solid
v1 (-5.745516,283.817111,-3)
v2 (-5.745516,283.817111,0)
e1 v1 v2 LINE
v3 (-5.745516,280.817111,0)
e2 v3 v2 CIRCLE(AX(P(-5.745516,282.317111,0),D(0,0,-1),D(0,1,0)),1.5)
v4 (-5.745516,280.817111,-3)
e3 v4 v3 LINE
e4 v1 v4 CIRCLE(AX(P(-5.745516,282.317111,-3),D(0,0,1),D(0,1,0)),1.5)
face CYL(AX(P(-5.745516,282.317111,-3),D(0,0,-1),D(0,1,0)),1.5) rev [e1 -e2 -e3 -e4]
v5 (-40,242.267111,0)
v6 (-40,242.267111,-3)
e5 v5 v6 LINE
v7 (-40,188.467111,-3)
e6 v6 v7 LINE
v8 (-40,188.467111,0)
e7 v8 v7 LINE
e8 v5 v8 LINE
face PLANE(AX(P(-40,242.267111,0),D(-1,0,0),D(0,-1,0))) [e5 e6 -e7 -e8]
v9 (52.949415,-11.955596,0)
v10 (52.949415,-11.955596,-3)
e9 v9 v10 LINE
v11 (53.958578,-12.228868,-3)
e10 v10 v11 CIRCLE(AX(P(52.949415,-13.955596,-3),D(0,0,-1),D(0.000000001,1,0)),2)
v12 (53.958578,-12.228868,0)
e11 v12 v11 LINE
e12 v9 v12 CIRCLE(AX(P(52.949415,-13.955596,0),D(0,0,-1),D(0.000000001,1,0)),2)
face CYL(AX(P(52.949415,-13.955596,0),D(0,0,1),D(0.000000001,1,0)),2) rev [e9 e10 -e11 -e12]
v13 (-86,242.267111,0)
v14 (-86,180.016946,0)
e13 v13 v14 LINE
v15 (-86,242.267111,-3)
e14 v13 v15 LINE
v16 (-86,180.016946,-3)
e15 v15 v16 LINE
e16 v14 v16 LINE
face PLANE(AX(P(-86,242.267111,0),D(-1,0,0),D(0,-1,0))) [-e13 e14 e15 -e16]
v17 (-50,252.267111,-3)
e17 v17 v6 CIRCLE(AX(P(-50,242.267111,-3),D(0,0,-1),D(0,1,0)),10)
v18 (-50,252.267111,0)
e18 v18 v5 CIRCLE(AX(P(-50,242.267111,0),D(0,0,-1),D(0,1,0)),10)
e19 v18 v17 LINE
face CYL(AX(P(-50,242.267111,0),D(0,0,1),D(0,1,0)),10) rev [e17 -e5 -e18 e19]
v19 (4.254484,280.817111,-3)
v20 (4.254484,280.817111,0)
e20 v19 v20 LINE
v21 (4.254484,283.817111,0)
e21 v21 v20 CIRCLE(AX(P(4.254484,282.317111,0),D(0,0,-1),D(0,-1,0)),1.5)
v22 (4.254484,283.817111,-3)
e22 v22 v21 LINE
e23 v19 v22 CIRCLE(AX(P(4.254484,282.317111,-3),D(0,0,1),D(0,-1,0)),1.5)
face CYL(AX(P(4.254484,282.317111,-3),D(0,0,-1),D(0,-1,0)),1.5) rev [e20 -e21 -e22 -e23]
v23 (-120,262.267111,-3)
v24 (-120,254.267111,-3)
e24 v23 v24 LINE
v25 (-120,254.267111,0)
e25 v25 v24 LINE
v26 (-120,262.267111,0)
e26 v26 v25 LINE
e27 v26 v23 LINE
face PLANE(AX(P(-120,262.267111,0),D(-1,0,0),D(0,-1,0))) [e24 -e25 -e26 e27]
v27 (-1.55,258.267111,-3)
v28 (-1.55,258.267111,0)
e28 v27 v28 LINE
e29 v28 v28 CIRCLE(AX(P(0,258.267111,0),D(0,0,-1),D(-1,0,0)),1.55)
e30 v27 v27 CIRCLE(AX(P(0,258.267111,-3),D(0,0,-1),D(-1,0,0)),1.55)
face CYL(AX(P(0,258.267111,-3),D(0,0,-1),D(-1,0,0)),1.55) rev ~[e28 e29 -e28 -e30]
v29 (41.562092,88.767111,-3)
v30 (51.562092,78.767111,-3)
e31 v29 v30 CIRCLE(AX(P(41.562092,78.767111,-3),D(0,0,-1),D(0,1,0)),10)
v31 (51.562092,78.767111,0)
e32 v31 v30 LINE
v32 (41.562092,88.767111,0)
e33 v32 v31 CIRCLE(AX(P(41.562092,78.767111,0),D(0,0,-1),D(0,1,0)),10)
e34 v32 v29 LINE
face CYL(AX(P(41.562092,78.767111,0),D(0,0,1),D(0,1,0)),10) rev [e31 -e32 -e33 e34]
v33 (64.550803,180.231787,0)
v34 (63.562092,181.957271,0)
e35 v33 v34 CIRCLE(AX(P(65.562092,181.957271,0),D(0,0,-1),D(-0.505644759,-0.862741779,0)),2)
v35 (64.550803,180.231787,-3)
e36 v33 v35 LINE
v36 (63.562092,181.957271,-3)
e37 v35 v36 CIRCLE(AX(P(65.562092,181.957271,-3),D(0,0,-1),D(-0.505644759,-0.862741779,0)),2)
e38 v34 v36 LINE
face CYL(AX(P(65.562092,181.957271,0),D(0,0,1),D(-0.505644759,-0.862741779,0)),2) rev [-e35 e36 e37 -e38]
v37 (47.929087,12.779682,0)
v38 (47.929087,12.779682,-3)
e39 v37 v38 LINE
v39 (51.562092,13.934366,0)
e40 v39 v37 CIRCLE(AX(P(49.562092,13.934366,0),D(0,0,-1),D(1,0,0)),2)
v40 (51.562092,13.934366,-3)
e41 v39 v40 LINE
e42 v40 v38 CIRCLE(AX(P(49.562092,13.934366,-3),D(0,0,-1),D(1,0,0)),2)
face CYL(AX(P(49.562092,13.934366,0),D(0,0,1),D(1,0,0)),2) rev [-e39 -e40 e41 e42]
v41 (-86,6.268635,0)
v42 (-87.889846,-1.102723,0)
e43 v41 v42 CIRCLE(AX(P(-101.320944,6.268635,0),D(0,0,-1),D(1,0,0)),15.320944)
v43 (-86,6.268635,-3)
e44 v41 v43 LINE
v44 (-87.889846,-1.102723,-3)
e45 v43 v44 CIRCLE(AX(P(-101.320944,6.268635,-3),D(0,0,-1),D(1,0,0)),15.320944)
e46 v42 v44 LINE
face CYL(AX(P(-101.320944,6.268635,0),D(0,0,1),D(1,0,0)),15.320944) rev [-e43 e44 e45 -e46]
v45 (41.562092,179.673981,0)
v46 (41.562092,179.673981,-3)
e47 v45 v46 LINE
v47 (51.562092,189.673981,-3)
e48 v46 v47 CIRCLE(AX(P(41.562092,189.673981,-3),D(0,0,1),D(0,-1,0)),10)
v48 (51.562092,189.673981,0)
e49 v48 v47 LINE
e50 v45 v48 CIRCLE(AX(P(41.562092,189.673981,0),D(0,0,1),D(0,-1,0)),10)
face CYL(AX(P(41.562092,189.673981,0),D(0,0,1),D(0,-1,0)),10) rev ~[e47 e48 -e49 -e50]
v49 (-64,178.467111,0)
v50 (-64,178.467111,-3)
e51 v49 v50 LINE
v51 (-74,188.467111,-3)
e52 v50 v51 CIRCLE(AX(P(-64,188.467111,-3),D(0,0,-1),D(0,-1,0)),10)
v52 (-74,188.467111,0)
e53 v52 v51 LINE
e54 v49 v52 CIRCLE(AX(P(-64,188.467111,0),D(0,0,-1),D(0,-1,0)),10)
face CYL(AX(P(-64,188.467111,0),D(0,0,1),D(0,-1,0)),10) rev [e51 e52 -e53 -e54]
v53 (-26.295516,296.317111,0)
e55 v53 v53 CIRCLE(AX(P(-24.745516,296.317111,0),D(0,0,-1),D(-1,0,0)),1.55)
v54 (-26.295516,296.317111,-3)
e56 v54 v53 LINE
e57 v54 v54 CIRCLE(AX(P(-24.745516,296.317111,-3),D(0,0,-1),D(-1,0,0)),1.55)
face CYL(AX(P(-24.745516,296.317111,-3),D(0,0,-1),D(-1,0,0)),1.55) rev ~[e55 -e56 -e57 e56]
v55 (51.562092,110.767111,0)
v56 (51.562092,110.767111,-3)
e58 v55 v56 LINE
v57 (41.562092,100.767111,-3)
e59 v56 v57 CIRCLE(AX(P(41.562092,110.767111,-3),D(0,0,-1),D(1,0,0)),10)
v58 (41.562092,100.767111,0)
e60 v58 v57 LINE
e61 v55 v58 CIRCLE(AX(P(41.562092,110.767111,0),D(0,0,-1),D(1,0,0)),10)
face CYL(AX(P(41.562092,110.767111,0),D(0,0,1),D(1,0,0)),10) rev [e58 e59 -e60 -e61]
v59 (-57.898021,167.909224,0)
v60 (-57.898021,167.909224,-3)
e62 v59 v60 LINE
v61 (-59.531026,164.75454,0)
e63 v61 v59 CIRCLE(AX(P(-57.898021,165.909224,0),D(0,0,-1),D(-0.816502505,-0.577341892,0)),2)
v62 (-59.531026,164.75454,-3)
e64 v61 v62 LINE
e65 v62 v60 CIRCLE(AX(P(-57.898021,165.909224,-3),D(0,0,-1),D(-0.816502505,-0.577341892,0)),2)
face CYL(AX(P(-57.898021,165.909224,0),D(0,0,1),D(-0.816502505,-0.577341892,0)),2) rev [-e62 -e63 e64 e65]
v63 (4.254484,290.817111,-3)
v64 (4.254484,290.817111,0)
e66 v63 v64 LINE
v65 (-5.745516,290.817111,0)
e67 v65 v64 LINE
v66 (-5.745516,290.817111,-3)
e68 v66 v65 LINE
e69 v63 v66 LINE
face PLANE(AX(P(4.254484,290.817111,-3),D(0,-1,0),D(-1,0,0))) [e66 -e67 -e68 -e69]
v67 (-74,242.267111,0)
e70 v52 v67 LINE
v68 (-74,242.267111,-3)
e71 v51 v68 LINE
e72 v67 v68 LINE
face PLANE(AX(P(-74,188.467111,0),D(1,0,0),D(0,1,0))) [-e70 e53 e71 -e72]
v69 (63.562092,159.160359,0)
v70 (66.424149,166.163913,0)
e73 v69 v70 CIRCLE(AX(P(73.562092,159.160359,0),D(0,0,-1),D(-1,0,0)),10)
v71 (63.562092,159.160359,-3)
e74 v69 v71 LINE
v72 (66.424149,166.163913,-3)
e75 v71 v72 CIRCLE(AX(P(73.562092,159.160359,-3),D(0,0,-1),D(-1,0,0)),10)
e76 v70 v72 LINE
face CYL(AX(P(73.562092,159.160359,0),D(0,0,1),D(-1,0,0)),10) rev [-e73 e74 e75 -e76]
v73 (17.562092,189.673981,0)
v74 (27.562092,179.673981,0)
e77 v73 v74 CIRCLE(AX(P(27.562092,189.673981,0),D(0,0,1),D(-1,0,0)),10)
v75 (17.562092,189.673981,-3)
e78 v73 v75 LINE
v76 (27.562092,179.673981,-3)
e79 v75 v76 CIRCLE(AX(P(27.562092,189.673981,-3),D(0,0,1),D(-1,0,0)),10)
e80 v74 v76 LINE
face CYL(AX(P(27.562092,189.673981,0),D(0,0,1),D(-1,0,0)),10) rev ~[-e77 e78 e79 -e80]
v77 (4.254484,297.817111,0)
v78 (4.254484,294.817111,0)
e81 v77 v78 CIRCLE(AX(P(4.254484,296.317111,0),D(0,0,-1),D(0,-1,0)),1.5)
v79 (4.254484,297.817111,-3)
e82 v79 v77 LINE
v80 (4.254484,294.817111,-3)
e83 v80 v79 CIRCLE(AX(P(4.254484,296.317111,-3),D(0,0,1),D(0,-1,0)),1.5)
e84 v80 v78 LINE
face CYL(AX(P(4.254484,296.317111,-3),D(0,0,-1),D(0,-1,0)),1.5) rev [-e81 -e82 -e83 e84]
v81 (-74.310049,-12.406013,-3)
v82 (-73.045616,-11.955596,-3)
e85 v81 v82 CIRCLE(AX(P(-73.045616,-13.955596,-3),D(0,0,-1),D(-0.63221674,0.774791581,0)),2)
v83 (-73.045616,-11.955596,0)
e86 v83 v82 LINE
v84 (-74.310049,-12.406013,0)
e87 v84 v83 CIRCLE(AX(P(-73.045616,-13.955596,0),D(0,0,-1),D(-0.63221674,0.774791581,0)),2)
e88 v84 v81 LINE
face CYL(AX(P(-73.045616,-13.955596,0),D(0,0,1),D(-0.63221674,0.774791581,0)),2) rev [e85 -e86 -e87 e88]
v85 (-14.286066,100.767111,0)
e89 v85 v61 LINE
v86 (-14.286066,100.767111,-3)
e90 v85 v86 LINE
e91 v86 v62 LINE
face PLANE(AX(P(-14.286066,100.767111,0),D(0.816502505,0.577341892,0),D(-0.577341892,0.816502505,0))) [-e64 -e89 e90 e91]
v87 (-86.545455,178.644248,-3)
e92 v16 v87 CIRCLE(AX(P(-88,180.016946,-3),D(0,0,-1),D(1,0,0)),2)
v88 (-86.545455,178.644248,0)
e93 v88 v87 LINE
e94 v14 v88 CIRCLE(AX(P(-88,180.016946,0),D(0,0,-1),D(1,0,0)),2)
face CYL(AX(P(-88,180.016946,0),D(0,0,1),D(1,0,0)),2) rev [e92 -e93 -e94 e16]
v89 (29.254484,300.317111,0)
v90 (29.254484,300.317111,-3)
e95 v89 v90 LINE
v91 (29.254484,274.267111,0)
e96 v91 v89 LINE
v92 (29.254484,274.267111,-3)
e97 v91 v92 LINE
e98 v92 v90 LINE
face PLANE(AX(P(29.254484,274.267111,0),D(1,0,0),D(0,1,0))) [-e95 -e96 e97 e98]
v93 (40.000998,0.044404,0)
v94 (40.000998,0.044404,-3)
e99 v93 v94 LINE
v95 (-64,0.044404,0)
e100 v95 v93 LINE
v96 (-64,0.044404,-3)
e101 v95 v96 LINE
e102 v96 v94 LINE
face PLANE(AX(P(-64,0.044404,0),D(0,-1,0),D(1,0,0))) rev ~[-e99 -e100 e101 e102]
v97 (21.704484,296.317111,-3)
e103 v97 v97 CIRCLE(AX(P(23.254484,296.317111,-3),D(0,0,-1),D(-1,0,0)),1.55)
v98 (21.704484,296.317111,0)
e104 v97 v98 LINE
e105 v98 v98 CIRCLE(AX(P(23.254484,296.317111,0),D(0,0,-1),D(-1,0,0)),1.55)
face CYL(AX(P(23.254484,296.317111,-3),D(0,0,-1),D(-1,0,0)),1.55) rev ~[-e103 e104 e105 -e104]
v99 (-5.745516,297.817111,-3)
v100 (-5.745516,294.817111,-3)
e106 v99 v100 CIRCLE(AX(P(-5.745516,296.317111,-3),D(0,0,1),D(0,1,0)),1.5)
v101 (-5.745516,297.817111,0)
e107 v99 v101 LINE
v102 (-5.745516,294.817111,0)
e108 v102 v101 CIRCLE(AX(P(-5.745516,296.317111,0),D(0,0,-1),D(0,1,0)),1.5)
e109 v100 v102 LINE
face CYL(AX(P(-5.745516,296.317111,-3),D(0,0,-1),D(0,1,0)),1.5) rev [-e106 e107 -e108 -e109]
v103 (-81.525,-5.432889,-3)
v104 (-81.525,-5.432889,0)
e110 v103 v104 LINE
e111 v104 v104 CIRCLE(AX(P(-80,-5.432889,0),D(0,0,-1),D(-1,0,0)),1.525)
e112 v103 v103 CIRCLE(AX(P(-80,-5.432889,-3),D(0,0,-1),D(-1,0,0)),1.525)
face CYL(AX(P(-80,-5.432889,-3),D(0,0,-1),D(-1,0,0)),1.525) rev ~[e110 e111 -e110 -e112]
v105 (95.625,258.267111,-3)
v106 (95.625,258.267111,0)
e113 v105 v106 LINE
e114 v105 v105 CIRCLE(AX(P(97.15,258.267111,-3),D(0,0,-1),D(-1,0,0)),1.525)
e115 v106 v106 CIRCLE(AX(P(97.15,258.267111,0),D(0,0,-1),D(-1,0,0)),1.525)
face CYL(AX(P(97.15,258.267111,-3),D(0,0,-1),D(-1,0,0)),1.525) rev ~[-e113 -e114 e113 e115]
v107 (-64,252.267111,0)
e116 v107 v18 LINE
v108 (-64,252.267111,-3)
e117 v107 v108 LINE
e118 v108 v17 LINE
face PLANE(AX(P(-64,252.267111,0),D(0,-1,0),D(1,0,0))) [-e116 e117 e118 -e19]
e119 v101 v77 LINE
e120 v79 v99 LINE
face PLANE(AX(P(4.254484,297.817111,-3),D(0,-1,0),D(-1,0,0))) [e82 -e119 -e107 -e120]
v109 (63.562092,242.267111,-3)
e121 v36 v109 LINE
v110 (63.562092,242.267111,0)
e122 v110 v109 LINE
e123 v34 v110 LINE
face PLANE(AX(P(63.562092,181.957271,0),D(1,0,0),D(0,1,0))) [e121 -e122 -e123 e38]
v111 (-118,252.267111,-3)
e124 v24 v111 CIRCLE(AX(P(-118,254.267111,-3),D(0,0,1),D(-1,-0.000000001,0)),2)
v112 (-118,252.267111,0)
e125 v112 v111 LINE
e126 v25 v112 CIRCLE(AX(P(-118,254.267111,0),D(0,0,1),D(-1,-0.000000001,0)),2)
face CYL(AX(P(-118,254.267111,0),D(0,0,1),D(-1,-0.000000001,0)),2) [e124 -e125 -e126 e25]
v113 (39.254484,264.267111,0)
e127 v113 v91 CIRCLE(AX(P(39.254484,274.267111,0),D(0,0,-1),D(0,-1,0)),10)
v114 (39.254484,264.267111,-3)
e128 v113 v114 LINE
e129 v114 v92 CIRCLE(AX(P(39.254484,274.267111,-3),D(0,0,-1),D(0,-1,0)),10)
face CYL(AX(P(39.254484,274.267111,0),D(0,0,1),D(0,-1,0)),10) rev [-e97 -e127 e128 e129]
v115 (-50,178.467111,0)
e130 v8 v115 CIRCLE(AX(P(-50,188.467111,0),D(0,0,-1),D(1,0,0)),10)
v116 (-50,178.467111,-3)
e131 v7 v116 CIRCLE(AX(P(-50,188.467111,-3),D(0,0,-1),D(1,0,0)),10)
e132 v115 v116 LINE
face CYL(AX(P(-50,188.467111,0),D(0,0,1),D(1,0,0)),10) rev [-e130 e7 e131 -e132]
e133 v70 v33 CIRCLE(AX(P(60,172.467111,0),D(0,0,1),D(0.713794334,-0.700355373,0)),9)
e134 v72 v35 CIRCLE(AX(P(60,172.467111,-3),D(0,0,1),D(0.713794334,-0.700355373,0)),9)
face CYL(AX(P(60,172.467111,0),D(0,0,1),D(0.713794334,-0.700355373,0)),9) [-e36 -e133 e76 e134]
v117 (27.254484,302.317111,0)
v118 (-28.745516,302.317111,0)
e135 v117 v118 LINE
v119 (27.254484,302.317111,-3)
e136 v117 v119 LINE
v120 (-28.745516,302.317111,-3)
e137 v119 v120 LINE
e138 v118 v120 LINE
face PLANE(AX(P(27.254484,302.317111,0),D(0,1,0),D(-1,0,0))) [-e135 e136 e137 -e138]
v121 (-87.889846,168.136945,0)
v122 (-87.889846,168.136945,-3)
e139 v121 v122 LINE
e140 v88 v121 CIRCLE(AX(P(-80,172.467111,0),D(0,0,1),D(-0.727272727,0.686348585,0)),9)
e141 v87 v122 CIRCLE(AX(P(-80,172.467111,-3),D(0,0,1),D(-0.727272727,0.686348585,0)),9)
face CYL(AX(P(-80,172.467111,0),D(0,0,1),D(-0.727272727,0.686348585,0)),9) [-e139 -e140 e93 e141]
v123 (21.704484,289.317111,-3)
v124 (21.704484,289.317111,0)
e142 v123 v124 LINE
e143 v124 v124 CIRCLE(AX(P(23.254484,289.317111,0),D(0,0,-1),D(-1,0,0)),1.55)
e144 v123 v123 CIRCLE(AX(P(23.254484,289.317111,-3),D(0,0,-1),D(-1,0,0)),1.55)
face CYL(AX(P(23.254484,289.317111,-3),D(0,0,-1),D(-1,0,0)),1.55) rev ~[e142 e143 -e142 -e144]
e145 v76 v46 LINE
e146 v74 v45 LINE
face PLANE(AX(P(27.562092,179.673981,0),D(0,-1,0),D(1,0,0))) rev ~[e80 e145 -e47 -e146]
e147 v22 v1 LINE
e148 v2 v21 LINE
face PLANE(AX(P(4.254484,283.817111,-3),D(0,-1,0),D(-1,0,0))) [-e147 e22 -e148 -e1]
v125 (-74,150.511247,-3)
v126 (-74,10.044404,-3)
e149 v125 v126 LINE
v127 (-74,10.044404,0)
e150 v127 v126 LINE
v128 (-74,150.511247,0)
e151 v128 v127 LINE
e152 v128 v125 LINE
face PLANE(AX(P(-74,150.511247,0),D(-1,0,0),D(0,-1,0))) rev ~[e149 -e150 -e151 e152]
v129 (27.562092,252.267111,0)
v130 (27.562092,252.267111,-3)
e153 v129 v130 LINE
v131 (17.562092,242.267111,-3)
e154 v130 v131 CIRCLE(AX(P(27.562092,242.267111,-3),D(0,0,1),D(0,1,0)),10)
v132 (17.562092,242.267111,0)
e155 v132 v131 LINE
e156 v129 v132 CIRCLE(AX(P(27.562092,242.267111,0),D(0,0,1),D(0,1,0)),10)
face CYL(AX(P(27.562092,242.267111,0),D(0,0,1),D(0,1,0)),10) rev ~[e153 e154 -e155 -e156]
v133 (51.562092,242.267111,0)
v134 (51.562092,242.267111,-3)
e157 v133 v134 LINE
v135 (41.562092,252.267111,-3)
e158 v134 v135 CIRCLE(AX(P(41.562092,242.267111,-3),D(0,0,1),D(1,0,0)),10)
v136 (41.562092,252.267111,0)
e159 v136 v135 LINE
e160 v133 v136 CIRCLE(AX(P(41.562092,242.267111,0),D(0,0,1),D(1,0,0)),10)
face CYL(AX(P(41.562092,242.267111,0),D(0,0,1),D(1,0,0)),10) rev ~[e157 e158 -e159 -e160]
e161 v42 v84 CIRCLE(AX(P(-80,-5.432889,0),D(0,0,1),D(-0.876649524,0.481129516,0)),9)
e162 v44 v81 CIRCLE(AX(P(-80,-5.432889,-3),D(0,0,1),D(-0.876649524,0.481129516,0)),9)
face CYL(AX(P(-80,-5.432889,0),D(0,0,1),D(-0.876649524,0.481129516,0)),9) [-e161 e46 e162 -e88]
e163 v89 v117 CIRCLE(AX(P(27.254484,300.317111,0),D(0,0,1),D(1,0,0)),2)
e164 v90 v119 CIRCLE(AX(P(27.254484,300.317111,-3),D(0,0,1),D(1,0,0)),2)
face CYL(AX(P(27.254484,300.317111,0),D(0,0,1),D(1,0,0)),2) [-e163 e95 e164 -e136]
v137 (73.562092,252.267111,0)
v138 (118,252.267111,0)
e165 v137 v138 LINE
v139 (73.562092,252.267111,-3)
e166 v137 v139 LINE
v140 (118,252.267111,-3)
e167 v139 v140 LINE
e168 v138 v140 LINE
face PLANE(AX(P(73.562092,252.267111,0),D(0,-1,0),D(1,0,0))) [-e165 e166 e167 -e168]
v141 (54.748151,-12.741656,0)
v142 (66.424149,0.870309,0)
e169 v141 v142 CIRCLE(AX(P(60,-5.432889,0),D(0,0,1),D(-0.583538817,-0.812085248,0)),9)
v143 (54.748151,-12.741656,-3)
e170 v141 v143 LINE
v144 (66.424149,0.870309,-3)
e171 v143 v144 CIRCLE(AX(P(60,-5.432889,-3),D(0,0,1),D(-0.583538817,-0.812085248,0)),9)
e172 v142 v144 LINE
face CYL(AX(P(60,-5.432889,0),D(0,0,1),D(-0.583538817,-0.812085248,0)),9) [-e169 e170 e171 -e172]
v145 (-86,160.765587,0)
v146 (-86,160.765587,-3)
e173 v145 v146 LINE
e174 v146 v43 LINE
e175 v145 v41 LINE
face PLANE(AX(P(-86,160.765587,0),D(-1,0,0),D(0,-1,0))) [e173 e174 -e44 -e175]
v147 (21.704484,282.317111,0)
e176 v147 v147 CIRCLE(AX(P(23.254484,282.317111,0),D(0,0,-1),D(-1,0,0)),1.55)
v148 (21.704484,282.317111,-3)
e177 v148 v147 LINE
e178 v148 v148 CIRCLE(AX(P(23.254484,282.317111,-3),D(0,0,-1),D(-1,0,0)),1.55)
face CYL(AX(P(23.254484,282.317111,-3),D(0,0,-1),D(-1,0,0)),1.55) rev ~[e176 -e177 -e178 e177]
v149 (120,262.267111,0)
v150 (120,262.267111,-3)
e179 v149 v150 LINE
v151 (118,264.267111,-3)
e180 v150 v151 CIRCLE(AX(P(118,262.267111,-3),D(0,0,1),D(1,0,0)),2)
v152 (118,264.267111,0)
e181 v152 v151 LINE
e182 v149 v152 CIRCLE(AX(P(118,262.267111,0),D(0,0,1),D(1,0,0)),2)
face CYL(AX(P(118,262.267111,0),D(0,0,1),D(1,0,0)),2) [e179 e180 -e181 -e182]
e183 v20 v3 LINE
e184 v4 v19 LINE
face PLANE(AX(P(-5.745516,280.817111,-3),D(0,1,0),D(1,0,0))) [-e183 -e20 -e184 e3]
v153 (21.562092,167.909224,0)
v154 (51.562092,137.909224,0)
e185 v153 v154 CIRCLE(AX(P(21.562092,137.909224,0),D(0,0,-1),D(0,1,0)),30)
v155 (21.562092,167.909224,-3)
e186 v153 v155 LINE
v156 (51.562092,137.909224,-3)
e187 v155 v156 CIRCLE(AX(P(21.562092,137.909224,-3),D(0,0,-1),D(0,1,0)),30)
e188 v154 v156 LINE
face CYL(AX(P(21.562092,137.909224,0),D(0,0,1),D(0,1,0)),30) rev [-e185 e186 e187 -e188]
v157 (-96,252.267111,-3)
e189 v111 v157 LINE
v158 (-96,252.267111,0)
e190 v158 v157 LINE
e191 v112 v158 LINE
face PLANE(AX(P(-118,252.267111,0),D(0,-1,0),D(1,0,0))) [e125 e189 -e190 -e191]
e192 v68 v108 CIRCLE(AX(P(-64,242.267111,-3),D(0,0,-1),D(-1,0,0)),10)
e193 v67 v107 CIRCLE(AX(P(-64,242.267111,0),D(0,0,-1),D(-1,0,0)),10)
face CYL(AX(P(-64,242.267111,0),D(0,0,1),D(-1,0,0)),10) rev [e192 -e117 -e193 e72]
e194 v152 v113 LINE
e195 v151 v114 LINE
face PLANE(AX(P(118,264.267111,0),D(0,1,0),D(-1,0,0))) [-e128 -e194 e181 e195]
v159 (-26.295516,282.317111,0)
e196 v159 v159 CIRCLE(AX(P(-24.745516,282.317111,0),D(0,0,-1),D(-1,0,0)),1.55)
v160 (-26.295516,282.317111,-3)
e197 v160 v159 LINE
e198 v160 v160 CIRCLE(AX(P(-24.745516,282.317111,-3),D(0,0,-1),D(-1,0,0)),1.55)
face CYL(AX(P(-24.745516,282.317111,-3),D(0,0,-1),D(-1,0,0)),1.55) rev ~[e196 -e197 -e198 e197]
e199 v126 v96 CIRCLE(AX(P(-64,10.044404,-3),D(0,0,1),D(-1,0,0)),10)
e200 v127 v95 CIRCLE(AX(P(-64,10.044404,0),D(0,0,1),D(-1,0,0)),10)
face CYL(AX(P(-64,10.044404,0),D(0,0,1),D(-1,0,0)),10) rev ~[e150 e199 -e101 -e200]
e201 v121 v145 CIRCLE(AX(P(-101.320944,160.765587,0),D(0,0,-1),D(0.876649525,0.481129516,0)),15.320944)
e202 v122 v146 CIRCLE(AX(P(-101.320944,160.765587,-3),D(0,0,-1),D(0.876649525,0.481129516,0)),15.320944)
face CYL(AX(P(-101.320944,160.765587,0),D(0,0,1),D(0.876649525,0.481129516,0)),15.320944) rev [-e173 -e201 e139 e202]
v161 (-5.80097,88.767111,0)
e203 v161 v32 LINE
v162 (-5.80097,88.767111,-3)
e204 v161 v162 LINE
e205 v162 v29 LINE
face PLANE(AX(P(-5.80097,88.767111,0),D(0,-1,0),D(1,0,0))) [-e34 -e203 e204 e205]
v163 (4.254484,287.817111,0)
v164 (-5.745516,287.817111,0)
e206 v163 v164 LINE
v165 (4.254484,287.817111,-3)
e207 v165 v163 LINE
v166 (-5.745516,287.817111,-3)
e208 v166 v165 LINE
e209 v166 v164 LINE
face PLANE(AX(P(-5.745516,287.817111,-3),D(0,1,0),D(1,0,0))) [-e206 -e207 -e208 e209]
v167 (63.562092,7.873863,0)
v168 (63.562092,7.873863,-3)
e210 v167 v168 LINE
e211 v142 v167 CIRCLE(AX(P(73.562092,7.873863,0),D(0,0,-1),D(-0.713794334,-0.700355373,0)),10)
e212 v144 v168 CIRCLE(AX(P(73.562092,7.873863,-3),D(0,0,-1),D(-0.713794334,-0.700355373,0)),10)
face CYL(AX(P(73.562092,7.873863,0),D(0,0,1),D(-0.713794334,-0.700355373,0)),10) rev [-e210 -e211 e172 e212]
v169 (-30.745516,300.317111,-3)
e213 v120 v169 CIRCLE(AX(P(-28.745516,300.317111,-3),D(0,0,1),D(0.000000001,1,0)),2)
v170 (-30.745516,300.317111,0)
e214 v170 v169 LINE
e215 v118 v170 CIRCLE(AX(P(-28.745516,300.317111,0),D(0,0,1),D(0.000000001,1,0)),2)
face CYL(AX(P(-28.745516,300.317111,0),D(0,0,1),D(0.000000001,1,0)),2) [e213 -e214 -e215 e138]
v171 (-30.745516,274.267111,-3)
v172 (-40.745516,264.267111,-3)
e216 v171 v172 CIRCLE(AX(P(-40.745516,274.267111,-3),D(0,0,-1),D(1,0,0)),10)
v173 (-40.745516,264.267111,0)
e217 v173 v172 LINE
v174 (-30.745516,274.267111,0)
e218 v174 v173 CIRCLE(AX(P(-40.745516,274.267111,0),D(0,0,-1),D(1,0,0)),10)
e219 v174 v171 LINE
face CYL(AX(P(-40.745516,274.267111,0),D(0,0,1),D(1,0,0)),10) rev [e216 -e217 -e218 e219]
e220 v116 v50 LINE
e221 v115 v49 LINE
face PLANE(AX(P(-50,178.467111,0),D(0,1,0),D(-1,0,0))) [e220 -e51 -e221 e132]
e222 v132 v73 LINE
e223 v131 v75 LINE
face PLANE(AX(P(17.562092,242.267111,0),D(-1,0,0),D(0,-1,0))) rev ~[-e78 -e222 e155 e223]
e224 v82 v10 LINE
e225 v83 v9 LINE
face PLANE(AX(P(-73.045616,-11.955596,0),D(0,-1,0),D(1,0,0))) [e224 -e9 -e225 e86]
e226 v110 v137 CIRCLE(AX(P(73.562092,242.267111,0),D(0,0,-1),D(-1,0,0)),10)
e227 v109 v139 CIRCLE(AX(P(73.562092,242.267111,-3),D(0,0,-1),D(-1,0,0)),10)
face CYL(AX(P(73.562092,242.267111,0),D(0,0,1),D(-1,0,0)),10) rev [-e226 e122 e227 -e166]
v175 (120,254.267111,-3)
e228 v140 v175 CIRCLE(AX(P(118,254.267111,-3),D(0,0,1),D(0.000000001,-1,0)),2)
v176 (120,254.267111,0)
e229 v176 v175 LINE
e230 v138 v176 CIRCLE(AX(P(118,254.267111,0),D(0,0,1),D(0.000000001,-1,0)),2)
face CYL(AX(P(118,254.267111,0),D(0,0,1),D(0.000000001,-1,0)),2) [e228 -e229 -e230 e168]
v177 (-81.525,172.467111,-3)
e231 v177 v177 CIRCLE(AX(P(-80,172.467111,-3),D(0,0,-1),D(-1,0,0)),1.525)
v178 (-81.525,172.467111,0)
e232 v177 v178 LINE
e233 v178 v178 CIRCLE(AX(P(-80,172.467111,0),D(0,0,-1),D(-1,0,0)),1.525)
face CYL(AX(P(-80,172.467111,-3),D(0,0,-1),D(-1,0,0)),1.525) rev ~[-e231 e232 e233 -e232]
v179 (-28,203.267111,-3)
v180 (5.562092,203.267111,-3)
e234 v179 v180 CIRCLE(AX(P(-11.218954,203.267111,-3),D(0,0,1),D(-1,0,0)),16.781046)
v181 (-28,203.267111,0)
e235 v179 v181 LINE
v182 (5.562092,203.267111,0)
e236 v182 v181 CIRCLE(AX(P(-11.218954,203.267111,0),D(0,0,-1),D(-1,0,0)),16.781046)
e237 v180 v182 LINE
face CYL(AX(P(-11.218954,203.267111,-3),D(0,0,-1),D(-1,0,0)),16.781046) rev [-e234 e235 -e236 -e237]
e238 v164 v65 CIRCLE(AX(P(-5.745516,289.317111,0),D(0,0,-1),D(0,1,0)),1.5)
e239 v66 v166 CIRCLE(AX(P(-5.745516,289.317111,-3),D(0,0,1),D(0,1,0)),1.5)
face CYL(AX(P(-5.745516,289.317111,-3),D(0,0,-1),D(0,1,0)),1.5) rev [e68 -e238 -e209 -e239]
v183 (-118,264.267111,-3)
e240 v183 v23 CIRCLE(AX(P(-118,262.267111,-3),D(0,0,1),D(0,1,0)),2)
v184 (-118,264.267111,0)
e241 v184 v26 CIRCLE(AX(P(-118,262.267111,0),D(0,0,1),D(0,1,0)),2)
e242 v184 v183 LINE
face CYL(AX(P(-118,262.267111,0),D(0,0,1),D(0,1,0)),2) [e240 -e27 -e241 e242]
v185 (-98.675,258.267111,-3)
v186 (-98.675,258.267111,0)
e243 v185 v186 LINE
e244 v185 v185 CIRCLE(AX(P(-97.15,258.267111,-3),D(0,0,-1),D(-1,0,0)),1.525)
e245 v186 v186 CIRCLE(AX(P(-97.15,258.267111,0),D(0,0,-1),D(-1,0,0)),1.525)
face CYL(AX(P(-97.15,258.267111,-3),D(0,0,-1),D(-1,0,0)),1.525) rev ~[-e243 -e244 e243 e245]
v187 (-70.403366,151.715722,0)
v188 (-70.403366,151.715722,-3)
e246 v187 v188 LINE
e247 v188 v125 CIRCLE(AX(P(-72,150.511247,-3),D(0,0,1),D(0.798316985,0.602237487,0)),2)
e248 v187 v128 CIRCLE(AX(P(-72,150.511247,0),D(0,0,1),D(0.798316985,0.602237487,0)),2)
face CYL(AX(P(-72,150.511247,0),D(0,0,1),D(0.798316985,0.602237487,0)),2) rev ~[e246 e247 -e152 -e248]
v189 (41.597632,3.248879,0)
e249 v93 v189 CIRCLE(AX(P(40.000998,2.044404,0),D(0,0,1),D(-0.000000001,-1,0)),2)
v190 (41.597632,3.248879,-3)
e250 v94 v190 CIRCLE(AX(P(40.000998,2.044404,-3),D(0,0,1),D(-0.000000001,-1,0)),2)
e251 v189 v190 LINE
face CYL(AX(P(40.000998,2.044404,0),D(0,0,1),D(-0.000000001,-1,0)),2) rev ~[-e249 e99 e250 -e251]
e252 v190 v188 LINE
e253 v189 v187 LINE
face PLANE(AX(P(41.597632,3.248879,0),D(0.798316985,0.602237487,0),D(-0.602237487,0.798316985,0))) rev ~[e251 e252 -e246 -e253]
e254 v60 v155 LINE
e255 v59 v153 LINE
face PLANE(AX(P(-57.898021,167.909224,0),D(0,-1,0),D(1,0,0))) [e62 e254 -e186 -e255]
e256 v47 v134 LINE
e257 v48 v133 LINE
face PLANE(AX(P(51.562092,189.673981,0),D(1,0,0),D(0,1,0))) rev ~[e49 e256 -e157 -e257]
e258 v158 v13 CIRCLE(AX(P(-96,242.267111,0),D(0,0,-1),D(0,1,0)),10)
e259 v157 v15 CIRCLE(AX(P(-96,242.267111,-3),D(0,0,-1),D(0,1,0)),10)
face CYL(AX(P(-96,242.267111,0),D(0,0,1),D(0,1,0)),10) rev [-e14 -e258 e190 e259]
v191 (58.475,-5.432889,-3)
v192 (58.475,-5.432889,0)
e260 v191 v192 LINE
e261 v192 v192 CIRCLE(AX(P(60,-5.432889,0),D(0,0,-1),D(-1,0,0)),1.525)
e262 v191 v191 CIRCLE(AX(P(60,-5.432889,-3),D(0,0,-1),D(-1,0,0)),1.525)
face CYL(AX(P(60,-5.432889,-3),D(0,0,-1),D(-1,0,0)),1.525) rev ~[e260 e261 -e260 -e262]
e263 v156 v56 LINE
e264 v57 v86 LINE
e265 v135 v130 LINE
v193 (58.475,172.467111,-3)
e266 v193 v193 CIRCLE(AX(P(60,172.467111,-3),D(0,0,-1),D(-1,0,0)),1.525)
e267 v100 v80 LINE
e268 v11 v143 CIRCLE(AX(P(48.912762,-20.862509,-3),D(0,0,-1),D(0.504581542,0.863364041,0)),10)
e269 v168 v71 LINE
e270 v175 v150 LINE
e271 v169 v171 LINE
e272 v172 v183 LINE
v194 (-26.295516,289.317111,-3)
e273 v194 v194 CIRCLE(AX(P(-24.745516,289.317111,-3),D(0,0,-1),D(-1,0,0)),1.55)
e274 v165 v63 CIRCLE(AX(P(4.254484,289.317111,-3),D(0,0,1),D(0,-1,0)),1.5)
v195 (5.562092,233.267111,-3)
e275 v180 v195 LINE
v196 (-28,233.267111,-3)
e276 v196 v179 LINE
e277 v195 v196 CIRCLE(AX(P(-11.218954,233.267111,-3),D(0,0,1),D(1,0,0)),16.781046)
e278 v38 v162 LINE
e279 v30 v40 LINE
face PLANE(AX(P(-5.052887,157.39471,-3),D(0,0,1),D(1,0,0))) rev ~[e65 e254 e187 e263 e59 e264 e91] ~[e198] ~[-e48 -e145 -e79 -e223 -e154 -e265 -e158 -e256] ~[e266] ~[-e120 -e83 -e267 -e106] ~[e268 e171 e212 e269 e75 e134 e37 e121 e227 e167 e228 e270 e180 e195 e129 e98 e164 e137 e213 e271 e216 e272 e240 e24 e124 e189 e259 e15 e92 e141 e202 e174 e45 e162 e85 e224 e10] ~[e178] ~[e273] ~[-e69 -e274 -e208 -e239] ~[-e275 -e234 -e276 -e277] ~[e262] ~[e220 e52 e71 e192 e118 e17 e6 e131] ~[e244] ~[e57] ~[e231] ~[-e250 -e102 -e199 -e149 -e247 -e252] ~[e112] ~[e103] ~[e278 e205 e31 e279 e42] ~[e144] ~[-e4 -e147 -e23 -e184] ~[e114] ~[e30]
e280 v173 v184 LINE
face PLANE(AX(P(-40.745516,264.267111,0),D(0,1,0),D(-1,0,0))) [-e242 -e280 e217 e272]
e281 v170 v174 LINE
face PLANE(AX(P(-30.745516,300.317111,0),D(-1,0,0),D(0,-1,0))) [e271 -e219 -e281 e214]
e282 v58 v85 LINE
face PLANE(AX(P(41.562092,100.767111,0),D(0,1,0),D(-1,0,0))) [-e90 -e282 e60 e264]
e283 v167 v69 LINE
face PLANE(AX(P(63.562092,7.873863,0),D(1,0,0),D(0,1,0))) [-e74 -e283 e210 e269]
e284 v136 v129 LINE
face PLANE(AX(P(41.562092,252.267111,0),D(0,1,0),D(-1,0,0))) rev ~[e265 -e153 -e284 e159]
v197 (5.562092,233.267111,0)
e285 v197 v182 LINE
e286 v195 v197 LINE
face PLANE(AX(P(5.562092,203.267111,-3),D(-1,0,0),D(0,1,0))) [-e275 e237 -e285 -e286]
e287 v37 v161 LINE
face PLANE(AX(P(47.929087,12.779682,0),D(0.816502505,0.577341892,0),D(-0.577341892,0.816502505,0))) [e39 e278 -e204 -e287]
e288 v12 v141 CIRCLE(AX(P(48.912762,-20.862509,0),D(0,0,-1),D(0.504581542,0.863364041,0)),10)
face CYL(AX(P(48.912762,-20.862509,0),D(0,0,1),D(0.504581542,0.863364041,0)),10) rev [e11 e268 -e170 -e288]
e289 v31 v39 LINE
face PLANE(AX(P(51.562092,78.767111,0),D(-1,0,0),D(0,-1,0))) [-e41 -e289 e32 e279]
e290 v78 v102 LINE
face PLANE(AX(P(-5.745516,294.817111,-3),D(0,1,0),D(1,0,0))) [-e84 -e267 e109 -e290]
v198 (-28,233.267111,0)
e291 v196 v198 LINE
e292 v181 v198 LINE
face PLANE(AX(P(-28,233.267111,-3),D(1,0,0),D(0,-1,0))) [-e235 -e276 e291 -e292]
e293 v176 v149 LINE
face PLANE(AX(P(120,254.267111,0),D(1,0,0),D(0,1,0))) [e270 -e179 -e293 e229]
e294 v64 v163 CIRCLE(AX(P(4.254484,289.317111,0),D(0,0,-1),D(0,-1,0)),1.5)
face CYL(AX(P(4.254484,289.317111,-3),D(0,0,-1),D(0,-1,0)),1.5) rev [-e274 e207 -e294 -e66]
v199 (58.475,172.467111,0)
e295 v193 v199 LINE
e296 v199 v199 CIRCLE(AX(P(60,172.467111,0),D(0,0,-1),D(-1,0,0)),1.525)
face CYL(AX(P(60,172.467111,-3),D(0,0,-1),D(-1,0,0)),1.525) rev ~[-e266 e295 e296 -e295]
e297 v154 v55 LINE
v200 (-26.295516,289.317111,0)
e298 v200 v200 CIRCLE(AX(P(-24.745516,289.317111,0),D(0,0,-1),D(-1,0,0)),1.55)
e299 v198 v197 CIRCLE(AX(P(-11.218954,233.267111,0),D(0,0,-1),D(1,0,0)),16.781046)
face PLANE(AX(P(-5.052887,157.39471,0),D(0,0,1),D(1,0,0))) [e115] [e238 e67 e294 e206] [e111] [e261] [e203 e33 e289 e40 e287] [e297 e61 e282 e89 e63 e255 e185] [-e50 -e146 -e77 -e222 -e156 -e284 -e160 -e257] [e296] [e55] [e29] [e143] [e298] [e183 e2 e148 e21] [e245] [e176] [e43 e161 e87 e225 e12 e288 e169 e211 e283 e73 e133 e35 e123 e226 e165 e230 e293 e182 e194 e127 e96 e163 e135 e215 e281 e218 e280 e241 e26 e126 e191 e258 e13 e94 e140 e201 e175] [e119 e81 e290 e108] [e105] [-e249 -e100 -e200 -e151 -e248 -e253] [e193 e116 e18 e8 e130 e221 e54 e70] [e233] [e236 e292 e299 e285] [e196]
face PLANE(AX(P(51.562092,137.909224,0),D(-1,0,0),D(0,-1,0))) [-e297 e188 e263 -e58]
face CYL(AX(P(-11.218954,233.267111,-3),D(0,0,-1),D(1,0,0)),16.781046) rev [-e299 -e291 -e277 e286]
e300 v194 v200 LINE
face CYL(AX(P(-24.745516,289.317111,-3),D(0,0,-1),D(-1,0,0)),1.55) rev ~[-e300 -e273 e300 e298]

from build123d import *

# Parameters (mm, degrees)
EXTRUDE_1_DEPTH     = 3
SKETCH_2_R          = 1.525
SKETCH_2_R_2        = 1.55
CUT_EXTRUDE_1_DEPTH = 326.276245137
SKETCH_3_R          = 1.55
CUT_EXTRUDE_2_DEPTH = 326.276245137


with BuildPart() as part:
    # 草图1 → 凸台-拉伸1 (new body)
    with BuildSketch(Plane.XY):
        with BuildLine():
            Line((63.562092344, 7.87386317), (63.562092344, 94.767111078))
            Line((63.562092344, 94.767111078), (63.562092344, 159.160358986))
            ThreePointArc((63.562092344, 159.160358986), (64.30521832, 162.943252496), (66.424149005, 166.163912719))
            ThreePointArc((66.424149005, 166.163912719), (68.921247911, 173.655107589), (64.550802827, 180.231787094))
            ThreePointArc((64.550802827, 180.231787094), (63.826785594, 180.962931434), (63.562092344, 181.957270653))
            Line((63.562092344, 181.957270653), (63.562092344, 242.267111078))
            ThreePointArc((63.562092344, 242.267111078), (66.491024532, 249.33817889), (73.562092344, 252.267111078))
            Line((73.562092344, 252.267111078), (118, 252.267111078))
            ThreePointArc((118, 252.267111078), (119.414213562, 252.852897516), (120, 254.267111078))
            Line((120, 254.267111078), (120, 262.267111078))
            ThreePointArc((120, 262.267111078), (119.414213562, 263.681324641), (118, 264.267111078))
            Line((118, 264.267111078), (39.254483947, 264.267111078))
            ThreePointArc((39.254483947, 264.267111078), (32.183416135, 267.196043266), (29.254483947, 274.267111078))
            Line((29.254483947, 274.267111078), (29.254483947, 300.317111078))
            ThreePointArc((29.254483947, 300.317111078), (28.668697509, 301.731324641), (27.254483947, 302.317111078))
            Line((27.254483947, 302.317111078), (19.254483947, 302.317111078))
            Line((19.254483947, 302.317111078), (15.254483947, 302.317111078))
            Line((15.254483947, 302.317111078), (-28.745516053, 302.317111078))
            ThreePointArc((-28.745516053, 302.317111078), (-30.159729616, 301.731324641), (-30.745516053, 300.317111078))
            Line((-30.745516053, 300.317111078), (-30.745516053, 274.267111078))
            ThreePointArc((-30.745516053, 274.267111078), (-33.674448242, 267.196043266), (-40.745516053, 264.267111078))
            Line((-40.745516053, 264.267111078), (-50.745516053, 264.267111078))
            Line((-50.745516053, 264.267111078), (-118, 264.267111078))
            ThreePointArc((-118, 264.267111078), (-119.414213562, 263.681324641), (-120, 262.267111078))
            Line((-120, 262.267111078), (-120, 254.267111078))
            ThreePointArc((-120, 254.267111078), (-119.414213562, 252.852897516), (-118, 252.267111078))
            Line((-118, 252.267111078), (-96, 252.267111078))
            ThreePointArc((-96, 252.267111078), (-88.928932188, 249.33817889), (-86, 242.267111078))
            Line((-86, 242.267111078), (-86, 180.016945513))
            ThreePointArc((-86, 180.016945513), (-86.141359245, 179.278396568), (-86.545454545, 178.644248343))
            ThreePointArc((-86.545454545, 178.644248343), (-88.927223928, 173.609333888), (-87.889845719, 168.136945432))
            ThreePointArc((-87.889845719, 168.136945432), (-86.47997992, 164.570466876), (-86, 160.765587097))
            Line((-86, 160.765587097), (-86, 6.26863506))
            ThreePointArc((-86, 6.26863506), (-86.47997992, 2.46375528), (-87.889845719, -1.102723275))
            ThreePointArc((-87.889845719, -1.102723275), (-85.757688337, -12.35018789), (-74.310049328, -12.406013139))
            ThreePointArc((-74.310049328, -12.406013139), (-73.716746861, -12.071562552), (-73.045615845, -11.955596298))
            Line((-73.045615845, -11.955596298), (52.949414819, -11.955596298))
            ThreePointArc((52.949414819, -11.955596298), (53.472168985, -12.02512276), (53.958577903, -12.228868216))
            ThreePointArc((53.958577903, -12.228868216), (54.359402341, -12.475964985), (54.748150651, -12.741656151))
            ThreePointArc((54.748150651, -12.741656151), (66.831176576, -11.292498685), (66.424149005, 0.870309438))
            ThreePointArc((66.424149005, 0.870309438), (64.30521832, 4.090969661), (63.562092344, 7.87386317))
        make_face()
        with BuildLine():
            Line((-74, 150.511247137), (-74, 10.044403702))
            ThreePointArc((-74, 10.044403702), (-71.071067812, 2.97333589), (-64, 0.044403702))
            Line((-64, 0.044403702), (40.00099757, 0.044403702))
            ThreePointArc((40.00099757, 0.044403702), (41.791102309, 1.152481605), (41.597631541, 3.248878676))
            Line((41.597631541, 3.248878676), (-70.403366029, 151.715722111))
            ThreePointArc((-70.403366029, 151.715722111), (-72.635111037, 152.407726499), (-74, 150.511247137))
        make_face(mode=Mode.SUBTRACT)
        with BuildLine():
            Line((51.562092344, 137.909223904), (51.562092344, 110.767111078))
            ThreePointArc((51.562092344, 110.767111078), (48.633160156, 103.696043266), (41.562092344, 100.767111078))
            Line((41.562092344, 100.767111078), (-14.286066222, 100.767111078))
            Line((-14.286066222, 100.767111078), (-59.531026404, 164.754540121))
            ThreePointArc((-59.531026404, 164.754540121), (-59.674164346, 166.828634703), (-57.898021395, 167.909223904))
            Line((-57.898021395, 167.909223904), (21.562092344, 167.909223904))
            ThreePointArc((21.562092344, 167.909223904), (42.77529578, 159.12242734), (51.562092344, 137.909223904))
        make_face(mode=Mode.SUBTRACT)
        with BuildLine():
            Line((47.929087335, 12.779682035), (-5.800969535, 88.767111078))
            Line((-5.800969535, 88.767111078), (41.562092344, 88.767111078))
            ThreePointArc((41.562092344, 88.767111078), (48.633160156, 85.83817889), (51.562092344, 78.767111078))
            Line((51.562092344, 78.767111078), (51.562092344, 13.934365818))
            ThreePointArc((51.562092344, 13.934365818), (50.167893459, 12.028321483), (47.929087335, 12.779682035))
        make_face(mode=Mode.SUBTRACT)
        with BuildLine():
            Line((17.562092344, 242.267111078), (17.562092344, 189.673981411))
            ThreePointArc((17.562092344, 189.673981411), (20.491024532, 182.602913599), (27.562092344, 179.673981411))
            Line((27.562092344, 179.673981411), (41.562092344, 179.673981411))
            ThreePointArc((41.562092344, 179.673981411), (48.633160156, 182.602913599), (51.562092344, 189.673981411))
            Line((51.562092344, 189.673981411), (51.562092344, 242.267111078))
            ThreePointArc((51.562092344, 242.267111078), (48.633160156, 249.33817889), (41.562092344, 252.267111078))
            Line((41.562092344, 252.267111078), (27.562092344, 252.267111078))
            ThreePointArc((27.562092344, 252.267111078), (20.491024532, 249.33817889), (17.562092344, 242.267111078))
        make_face(mode=Mode.SUBTRACT)
        with BuildLine():
            Line((-40, 242.267111078), (-40, 188.467111078))
            ThreePointArc((-40, 188.467111078), (-42.928932188, 181.396043266), (-50, 178.467111078))
            Line((-50, 178.467111078), (-64, 178.467111078))
            ThreePointArc((-64, 178.467111078), (-71.071067812, 181.396043266), (-74, 188.467111078))
            Line((-74, 188.467111078), (-74, 242.267111078))
            ThreePointArc((-74, 242.267111078), (-71.071067812, 249.33817889), (-64, 252.267111078))
            Line((-64, 252.267111078), (-50, 252.267111078))
            ThreePointArc((-50, 252.267111078), (-42.928932188, 249.33817889), (-40, 242.267111078))
        make_face(mode=Mode.SUBTRACT)
    extrude(amount=-EXTRUDE_1_DEPTH)

    # 草图2 → 切除-拉伸1 (cut, through all)
    with BuildSketch(Plane(origin=(0, 0, -3), x_dir=(-1, 0, 0), z_dir=(0, 0, -1))):
        with Locations((-60, 172.467111078)):
            Circle(SKETCH_2_R)
        with Locations((-60, -5.432888922)):
            Circle(SKETCH_2_R)
        with Locations((80, -5.432888922)):
            Circle(SKETCH_2_R)
        with Locations((80, 172.467111078)):
            Circle(SKETCH_2_R)
        with Locations((0, 258.267111078)):
            Circle(SKETCH_2_R_2)
        with Locations((-97.15, 258.267111078)):
            Circle(SKETCH_2_R)
        with Locations((97.15, 258.267111078)):
            Circle(SKETCH_2_R)
        with BuildLine():
            Line((28, 233.267111078), (28, 203.267111078))
            ThreePointArc((28, 203.267111078), (11.218953828, 186.486064906), (-5.562092344, 203.267111078))
            Line((-5.562092344, 203.267111078), (-5.562092344, 233.267111078))
            ThreePointArc((-5.562092344, 233.267111078), (11.218953828, 250.04815725), (28, 233.267111078))
        make_face()
    extrude(amount=-CUT_EXTRUDE_1_DEPTH, mode=Mode.SUBTRACT)

    # 草图3 → 切除-拉伸2 (cut, through all)
    with BuildSketch(Plane(origin=(0, 0, -3), x_dir=(-1, 0, 0), z_dir=(0, 0, -1))):
        with Locations((-23.254483947, 296.317111078)):
            Circle(SKETCH_3_R)
        with Locations((24.745516053, 296.317111078)):
            Circle(SKETCH_3_R)
        with Locations((-23.254483947, 289.317111078)):
            Circle(SKETCH_3_R)
        with Locations((24.745516053, 289.317111078)):
            Circle(SKETCH_3_R)
        with Locations((-23.254483947, 282.317111078)):
            Circle(SKETCH_3_R)
        with Locations((24.745516053, 282.317111078)):
            Circle(SKETCH_3_R)
        with BuildLine():
            Line((-4.254483947, 297.817111078), (5.745516053, 297.817111078))
            ThreePointArc((5.745516053, 297.817111078), (7.245516053, 296.317111078), (5.745516053, 294.817111078))
            Line((5.745516053, 294.817111078), (-4.254483947, 294.817111078))
            ThreePointArc((-4.254483947, 294.817111078), (-5.754483947, 296.317111078), (-4.254483947, 297.817111078))
        make_face()
        with BuildLine():
            Line((-4.254483947, 290.817111078), (5.745516053, 290.817111078))
            ThreePointArc((5.745516053, 290.817111078), (7.245516053, 289.317111078), (5.745516053, 287.817111078))
            Line((5.745516053, 287.817111078), (-4.254483947, 287.817111078))
            ThreePointArc((-4.254483947, 287.817111078), (-5.754483947, 289.317111078), (-4.254483947, 290.817111078))
        make_face()
        with BuildLine():
            Line((-4.254483947, 283.817111078), (5.745516053, 283.817111078))
            ThreePointArc((5.745516053, 283.817111078), (7.245516053, 282.317111078), (5.745516053, 280.817111078))
            Line((5.745516053, 280.817111078), (-4.254483947, 280.817111078))
            ThreePointArc((-4.254483947, 280.817111078), (-5.754483947, 282.317111078), (-4.254483947, 283.817111078))
        make_face()
    extrude(amount=-CUT_EXTRUDE_2_DEPTH, mode=Mode.SUBTRACT)


solid = part.part
